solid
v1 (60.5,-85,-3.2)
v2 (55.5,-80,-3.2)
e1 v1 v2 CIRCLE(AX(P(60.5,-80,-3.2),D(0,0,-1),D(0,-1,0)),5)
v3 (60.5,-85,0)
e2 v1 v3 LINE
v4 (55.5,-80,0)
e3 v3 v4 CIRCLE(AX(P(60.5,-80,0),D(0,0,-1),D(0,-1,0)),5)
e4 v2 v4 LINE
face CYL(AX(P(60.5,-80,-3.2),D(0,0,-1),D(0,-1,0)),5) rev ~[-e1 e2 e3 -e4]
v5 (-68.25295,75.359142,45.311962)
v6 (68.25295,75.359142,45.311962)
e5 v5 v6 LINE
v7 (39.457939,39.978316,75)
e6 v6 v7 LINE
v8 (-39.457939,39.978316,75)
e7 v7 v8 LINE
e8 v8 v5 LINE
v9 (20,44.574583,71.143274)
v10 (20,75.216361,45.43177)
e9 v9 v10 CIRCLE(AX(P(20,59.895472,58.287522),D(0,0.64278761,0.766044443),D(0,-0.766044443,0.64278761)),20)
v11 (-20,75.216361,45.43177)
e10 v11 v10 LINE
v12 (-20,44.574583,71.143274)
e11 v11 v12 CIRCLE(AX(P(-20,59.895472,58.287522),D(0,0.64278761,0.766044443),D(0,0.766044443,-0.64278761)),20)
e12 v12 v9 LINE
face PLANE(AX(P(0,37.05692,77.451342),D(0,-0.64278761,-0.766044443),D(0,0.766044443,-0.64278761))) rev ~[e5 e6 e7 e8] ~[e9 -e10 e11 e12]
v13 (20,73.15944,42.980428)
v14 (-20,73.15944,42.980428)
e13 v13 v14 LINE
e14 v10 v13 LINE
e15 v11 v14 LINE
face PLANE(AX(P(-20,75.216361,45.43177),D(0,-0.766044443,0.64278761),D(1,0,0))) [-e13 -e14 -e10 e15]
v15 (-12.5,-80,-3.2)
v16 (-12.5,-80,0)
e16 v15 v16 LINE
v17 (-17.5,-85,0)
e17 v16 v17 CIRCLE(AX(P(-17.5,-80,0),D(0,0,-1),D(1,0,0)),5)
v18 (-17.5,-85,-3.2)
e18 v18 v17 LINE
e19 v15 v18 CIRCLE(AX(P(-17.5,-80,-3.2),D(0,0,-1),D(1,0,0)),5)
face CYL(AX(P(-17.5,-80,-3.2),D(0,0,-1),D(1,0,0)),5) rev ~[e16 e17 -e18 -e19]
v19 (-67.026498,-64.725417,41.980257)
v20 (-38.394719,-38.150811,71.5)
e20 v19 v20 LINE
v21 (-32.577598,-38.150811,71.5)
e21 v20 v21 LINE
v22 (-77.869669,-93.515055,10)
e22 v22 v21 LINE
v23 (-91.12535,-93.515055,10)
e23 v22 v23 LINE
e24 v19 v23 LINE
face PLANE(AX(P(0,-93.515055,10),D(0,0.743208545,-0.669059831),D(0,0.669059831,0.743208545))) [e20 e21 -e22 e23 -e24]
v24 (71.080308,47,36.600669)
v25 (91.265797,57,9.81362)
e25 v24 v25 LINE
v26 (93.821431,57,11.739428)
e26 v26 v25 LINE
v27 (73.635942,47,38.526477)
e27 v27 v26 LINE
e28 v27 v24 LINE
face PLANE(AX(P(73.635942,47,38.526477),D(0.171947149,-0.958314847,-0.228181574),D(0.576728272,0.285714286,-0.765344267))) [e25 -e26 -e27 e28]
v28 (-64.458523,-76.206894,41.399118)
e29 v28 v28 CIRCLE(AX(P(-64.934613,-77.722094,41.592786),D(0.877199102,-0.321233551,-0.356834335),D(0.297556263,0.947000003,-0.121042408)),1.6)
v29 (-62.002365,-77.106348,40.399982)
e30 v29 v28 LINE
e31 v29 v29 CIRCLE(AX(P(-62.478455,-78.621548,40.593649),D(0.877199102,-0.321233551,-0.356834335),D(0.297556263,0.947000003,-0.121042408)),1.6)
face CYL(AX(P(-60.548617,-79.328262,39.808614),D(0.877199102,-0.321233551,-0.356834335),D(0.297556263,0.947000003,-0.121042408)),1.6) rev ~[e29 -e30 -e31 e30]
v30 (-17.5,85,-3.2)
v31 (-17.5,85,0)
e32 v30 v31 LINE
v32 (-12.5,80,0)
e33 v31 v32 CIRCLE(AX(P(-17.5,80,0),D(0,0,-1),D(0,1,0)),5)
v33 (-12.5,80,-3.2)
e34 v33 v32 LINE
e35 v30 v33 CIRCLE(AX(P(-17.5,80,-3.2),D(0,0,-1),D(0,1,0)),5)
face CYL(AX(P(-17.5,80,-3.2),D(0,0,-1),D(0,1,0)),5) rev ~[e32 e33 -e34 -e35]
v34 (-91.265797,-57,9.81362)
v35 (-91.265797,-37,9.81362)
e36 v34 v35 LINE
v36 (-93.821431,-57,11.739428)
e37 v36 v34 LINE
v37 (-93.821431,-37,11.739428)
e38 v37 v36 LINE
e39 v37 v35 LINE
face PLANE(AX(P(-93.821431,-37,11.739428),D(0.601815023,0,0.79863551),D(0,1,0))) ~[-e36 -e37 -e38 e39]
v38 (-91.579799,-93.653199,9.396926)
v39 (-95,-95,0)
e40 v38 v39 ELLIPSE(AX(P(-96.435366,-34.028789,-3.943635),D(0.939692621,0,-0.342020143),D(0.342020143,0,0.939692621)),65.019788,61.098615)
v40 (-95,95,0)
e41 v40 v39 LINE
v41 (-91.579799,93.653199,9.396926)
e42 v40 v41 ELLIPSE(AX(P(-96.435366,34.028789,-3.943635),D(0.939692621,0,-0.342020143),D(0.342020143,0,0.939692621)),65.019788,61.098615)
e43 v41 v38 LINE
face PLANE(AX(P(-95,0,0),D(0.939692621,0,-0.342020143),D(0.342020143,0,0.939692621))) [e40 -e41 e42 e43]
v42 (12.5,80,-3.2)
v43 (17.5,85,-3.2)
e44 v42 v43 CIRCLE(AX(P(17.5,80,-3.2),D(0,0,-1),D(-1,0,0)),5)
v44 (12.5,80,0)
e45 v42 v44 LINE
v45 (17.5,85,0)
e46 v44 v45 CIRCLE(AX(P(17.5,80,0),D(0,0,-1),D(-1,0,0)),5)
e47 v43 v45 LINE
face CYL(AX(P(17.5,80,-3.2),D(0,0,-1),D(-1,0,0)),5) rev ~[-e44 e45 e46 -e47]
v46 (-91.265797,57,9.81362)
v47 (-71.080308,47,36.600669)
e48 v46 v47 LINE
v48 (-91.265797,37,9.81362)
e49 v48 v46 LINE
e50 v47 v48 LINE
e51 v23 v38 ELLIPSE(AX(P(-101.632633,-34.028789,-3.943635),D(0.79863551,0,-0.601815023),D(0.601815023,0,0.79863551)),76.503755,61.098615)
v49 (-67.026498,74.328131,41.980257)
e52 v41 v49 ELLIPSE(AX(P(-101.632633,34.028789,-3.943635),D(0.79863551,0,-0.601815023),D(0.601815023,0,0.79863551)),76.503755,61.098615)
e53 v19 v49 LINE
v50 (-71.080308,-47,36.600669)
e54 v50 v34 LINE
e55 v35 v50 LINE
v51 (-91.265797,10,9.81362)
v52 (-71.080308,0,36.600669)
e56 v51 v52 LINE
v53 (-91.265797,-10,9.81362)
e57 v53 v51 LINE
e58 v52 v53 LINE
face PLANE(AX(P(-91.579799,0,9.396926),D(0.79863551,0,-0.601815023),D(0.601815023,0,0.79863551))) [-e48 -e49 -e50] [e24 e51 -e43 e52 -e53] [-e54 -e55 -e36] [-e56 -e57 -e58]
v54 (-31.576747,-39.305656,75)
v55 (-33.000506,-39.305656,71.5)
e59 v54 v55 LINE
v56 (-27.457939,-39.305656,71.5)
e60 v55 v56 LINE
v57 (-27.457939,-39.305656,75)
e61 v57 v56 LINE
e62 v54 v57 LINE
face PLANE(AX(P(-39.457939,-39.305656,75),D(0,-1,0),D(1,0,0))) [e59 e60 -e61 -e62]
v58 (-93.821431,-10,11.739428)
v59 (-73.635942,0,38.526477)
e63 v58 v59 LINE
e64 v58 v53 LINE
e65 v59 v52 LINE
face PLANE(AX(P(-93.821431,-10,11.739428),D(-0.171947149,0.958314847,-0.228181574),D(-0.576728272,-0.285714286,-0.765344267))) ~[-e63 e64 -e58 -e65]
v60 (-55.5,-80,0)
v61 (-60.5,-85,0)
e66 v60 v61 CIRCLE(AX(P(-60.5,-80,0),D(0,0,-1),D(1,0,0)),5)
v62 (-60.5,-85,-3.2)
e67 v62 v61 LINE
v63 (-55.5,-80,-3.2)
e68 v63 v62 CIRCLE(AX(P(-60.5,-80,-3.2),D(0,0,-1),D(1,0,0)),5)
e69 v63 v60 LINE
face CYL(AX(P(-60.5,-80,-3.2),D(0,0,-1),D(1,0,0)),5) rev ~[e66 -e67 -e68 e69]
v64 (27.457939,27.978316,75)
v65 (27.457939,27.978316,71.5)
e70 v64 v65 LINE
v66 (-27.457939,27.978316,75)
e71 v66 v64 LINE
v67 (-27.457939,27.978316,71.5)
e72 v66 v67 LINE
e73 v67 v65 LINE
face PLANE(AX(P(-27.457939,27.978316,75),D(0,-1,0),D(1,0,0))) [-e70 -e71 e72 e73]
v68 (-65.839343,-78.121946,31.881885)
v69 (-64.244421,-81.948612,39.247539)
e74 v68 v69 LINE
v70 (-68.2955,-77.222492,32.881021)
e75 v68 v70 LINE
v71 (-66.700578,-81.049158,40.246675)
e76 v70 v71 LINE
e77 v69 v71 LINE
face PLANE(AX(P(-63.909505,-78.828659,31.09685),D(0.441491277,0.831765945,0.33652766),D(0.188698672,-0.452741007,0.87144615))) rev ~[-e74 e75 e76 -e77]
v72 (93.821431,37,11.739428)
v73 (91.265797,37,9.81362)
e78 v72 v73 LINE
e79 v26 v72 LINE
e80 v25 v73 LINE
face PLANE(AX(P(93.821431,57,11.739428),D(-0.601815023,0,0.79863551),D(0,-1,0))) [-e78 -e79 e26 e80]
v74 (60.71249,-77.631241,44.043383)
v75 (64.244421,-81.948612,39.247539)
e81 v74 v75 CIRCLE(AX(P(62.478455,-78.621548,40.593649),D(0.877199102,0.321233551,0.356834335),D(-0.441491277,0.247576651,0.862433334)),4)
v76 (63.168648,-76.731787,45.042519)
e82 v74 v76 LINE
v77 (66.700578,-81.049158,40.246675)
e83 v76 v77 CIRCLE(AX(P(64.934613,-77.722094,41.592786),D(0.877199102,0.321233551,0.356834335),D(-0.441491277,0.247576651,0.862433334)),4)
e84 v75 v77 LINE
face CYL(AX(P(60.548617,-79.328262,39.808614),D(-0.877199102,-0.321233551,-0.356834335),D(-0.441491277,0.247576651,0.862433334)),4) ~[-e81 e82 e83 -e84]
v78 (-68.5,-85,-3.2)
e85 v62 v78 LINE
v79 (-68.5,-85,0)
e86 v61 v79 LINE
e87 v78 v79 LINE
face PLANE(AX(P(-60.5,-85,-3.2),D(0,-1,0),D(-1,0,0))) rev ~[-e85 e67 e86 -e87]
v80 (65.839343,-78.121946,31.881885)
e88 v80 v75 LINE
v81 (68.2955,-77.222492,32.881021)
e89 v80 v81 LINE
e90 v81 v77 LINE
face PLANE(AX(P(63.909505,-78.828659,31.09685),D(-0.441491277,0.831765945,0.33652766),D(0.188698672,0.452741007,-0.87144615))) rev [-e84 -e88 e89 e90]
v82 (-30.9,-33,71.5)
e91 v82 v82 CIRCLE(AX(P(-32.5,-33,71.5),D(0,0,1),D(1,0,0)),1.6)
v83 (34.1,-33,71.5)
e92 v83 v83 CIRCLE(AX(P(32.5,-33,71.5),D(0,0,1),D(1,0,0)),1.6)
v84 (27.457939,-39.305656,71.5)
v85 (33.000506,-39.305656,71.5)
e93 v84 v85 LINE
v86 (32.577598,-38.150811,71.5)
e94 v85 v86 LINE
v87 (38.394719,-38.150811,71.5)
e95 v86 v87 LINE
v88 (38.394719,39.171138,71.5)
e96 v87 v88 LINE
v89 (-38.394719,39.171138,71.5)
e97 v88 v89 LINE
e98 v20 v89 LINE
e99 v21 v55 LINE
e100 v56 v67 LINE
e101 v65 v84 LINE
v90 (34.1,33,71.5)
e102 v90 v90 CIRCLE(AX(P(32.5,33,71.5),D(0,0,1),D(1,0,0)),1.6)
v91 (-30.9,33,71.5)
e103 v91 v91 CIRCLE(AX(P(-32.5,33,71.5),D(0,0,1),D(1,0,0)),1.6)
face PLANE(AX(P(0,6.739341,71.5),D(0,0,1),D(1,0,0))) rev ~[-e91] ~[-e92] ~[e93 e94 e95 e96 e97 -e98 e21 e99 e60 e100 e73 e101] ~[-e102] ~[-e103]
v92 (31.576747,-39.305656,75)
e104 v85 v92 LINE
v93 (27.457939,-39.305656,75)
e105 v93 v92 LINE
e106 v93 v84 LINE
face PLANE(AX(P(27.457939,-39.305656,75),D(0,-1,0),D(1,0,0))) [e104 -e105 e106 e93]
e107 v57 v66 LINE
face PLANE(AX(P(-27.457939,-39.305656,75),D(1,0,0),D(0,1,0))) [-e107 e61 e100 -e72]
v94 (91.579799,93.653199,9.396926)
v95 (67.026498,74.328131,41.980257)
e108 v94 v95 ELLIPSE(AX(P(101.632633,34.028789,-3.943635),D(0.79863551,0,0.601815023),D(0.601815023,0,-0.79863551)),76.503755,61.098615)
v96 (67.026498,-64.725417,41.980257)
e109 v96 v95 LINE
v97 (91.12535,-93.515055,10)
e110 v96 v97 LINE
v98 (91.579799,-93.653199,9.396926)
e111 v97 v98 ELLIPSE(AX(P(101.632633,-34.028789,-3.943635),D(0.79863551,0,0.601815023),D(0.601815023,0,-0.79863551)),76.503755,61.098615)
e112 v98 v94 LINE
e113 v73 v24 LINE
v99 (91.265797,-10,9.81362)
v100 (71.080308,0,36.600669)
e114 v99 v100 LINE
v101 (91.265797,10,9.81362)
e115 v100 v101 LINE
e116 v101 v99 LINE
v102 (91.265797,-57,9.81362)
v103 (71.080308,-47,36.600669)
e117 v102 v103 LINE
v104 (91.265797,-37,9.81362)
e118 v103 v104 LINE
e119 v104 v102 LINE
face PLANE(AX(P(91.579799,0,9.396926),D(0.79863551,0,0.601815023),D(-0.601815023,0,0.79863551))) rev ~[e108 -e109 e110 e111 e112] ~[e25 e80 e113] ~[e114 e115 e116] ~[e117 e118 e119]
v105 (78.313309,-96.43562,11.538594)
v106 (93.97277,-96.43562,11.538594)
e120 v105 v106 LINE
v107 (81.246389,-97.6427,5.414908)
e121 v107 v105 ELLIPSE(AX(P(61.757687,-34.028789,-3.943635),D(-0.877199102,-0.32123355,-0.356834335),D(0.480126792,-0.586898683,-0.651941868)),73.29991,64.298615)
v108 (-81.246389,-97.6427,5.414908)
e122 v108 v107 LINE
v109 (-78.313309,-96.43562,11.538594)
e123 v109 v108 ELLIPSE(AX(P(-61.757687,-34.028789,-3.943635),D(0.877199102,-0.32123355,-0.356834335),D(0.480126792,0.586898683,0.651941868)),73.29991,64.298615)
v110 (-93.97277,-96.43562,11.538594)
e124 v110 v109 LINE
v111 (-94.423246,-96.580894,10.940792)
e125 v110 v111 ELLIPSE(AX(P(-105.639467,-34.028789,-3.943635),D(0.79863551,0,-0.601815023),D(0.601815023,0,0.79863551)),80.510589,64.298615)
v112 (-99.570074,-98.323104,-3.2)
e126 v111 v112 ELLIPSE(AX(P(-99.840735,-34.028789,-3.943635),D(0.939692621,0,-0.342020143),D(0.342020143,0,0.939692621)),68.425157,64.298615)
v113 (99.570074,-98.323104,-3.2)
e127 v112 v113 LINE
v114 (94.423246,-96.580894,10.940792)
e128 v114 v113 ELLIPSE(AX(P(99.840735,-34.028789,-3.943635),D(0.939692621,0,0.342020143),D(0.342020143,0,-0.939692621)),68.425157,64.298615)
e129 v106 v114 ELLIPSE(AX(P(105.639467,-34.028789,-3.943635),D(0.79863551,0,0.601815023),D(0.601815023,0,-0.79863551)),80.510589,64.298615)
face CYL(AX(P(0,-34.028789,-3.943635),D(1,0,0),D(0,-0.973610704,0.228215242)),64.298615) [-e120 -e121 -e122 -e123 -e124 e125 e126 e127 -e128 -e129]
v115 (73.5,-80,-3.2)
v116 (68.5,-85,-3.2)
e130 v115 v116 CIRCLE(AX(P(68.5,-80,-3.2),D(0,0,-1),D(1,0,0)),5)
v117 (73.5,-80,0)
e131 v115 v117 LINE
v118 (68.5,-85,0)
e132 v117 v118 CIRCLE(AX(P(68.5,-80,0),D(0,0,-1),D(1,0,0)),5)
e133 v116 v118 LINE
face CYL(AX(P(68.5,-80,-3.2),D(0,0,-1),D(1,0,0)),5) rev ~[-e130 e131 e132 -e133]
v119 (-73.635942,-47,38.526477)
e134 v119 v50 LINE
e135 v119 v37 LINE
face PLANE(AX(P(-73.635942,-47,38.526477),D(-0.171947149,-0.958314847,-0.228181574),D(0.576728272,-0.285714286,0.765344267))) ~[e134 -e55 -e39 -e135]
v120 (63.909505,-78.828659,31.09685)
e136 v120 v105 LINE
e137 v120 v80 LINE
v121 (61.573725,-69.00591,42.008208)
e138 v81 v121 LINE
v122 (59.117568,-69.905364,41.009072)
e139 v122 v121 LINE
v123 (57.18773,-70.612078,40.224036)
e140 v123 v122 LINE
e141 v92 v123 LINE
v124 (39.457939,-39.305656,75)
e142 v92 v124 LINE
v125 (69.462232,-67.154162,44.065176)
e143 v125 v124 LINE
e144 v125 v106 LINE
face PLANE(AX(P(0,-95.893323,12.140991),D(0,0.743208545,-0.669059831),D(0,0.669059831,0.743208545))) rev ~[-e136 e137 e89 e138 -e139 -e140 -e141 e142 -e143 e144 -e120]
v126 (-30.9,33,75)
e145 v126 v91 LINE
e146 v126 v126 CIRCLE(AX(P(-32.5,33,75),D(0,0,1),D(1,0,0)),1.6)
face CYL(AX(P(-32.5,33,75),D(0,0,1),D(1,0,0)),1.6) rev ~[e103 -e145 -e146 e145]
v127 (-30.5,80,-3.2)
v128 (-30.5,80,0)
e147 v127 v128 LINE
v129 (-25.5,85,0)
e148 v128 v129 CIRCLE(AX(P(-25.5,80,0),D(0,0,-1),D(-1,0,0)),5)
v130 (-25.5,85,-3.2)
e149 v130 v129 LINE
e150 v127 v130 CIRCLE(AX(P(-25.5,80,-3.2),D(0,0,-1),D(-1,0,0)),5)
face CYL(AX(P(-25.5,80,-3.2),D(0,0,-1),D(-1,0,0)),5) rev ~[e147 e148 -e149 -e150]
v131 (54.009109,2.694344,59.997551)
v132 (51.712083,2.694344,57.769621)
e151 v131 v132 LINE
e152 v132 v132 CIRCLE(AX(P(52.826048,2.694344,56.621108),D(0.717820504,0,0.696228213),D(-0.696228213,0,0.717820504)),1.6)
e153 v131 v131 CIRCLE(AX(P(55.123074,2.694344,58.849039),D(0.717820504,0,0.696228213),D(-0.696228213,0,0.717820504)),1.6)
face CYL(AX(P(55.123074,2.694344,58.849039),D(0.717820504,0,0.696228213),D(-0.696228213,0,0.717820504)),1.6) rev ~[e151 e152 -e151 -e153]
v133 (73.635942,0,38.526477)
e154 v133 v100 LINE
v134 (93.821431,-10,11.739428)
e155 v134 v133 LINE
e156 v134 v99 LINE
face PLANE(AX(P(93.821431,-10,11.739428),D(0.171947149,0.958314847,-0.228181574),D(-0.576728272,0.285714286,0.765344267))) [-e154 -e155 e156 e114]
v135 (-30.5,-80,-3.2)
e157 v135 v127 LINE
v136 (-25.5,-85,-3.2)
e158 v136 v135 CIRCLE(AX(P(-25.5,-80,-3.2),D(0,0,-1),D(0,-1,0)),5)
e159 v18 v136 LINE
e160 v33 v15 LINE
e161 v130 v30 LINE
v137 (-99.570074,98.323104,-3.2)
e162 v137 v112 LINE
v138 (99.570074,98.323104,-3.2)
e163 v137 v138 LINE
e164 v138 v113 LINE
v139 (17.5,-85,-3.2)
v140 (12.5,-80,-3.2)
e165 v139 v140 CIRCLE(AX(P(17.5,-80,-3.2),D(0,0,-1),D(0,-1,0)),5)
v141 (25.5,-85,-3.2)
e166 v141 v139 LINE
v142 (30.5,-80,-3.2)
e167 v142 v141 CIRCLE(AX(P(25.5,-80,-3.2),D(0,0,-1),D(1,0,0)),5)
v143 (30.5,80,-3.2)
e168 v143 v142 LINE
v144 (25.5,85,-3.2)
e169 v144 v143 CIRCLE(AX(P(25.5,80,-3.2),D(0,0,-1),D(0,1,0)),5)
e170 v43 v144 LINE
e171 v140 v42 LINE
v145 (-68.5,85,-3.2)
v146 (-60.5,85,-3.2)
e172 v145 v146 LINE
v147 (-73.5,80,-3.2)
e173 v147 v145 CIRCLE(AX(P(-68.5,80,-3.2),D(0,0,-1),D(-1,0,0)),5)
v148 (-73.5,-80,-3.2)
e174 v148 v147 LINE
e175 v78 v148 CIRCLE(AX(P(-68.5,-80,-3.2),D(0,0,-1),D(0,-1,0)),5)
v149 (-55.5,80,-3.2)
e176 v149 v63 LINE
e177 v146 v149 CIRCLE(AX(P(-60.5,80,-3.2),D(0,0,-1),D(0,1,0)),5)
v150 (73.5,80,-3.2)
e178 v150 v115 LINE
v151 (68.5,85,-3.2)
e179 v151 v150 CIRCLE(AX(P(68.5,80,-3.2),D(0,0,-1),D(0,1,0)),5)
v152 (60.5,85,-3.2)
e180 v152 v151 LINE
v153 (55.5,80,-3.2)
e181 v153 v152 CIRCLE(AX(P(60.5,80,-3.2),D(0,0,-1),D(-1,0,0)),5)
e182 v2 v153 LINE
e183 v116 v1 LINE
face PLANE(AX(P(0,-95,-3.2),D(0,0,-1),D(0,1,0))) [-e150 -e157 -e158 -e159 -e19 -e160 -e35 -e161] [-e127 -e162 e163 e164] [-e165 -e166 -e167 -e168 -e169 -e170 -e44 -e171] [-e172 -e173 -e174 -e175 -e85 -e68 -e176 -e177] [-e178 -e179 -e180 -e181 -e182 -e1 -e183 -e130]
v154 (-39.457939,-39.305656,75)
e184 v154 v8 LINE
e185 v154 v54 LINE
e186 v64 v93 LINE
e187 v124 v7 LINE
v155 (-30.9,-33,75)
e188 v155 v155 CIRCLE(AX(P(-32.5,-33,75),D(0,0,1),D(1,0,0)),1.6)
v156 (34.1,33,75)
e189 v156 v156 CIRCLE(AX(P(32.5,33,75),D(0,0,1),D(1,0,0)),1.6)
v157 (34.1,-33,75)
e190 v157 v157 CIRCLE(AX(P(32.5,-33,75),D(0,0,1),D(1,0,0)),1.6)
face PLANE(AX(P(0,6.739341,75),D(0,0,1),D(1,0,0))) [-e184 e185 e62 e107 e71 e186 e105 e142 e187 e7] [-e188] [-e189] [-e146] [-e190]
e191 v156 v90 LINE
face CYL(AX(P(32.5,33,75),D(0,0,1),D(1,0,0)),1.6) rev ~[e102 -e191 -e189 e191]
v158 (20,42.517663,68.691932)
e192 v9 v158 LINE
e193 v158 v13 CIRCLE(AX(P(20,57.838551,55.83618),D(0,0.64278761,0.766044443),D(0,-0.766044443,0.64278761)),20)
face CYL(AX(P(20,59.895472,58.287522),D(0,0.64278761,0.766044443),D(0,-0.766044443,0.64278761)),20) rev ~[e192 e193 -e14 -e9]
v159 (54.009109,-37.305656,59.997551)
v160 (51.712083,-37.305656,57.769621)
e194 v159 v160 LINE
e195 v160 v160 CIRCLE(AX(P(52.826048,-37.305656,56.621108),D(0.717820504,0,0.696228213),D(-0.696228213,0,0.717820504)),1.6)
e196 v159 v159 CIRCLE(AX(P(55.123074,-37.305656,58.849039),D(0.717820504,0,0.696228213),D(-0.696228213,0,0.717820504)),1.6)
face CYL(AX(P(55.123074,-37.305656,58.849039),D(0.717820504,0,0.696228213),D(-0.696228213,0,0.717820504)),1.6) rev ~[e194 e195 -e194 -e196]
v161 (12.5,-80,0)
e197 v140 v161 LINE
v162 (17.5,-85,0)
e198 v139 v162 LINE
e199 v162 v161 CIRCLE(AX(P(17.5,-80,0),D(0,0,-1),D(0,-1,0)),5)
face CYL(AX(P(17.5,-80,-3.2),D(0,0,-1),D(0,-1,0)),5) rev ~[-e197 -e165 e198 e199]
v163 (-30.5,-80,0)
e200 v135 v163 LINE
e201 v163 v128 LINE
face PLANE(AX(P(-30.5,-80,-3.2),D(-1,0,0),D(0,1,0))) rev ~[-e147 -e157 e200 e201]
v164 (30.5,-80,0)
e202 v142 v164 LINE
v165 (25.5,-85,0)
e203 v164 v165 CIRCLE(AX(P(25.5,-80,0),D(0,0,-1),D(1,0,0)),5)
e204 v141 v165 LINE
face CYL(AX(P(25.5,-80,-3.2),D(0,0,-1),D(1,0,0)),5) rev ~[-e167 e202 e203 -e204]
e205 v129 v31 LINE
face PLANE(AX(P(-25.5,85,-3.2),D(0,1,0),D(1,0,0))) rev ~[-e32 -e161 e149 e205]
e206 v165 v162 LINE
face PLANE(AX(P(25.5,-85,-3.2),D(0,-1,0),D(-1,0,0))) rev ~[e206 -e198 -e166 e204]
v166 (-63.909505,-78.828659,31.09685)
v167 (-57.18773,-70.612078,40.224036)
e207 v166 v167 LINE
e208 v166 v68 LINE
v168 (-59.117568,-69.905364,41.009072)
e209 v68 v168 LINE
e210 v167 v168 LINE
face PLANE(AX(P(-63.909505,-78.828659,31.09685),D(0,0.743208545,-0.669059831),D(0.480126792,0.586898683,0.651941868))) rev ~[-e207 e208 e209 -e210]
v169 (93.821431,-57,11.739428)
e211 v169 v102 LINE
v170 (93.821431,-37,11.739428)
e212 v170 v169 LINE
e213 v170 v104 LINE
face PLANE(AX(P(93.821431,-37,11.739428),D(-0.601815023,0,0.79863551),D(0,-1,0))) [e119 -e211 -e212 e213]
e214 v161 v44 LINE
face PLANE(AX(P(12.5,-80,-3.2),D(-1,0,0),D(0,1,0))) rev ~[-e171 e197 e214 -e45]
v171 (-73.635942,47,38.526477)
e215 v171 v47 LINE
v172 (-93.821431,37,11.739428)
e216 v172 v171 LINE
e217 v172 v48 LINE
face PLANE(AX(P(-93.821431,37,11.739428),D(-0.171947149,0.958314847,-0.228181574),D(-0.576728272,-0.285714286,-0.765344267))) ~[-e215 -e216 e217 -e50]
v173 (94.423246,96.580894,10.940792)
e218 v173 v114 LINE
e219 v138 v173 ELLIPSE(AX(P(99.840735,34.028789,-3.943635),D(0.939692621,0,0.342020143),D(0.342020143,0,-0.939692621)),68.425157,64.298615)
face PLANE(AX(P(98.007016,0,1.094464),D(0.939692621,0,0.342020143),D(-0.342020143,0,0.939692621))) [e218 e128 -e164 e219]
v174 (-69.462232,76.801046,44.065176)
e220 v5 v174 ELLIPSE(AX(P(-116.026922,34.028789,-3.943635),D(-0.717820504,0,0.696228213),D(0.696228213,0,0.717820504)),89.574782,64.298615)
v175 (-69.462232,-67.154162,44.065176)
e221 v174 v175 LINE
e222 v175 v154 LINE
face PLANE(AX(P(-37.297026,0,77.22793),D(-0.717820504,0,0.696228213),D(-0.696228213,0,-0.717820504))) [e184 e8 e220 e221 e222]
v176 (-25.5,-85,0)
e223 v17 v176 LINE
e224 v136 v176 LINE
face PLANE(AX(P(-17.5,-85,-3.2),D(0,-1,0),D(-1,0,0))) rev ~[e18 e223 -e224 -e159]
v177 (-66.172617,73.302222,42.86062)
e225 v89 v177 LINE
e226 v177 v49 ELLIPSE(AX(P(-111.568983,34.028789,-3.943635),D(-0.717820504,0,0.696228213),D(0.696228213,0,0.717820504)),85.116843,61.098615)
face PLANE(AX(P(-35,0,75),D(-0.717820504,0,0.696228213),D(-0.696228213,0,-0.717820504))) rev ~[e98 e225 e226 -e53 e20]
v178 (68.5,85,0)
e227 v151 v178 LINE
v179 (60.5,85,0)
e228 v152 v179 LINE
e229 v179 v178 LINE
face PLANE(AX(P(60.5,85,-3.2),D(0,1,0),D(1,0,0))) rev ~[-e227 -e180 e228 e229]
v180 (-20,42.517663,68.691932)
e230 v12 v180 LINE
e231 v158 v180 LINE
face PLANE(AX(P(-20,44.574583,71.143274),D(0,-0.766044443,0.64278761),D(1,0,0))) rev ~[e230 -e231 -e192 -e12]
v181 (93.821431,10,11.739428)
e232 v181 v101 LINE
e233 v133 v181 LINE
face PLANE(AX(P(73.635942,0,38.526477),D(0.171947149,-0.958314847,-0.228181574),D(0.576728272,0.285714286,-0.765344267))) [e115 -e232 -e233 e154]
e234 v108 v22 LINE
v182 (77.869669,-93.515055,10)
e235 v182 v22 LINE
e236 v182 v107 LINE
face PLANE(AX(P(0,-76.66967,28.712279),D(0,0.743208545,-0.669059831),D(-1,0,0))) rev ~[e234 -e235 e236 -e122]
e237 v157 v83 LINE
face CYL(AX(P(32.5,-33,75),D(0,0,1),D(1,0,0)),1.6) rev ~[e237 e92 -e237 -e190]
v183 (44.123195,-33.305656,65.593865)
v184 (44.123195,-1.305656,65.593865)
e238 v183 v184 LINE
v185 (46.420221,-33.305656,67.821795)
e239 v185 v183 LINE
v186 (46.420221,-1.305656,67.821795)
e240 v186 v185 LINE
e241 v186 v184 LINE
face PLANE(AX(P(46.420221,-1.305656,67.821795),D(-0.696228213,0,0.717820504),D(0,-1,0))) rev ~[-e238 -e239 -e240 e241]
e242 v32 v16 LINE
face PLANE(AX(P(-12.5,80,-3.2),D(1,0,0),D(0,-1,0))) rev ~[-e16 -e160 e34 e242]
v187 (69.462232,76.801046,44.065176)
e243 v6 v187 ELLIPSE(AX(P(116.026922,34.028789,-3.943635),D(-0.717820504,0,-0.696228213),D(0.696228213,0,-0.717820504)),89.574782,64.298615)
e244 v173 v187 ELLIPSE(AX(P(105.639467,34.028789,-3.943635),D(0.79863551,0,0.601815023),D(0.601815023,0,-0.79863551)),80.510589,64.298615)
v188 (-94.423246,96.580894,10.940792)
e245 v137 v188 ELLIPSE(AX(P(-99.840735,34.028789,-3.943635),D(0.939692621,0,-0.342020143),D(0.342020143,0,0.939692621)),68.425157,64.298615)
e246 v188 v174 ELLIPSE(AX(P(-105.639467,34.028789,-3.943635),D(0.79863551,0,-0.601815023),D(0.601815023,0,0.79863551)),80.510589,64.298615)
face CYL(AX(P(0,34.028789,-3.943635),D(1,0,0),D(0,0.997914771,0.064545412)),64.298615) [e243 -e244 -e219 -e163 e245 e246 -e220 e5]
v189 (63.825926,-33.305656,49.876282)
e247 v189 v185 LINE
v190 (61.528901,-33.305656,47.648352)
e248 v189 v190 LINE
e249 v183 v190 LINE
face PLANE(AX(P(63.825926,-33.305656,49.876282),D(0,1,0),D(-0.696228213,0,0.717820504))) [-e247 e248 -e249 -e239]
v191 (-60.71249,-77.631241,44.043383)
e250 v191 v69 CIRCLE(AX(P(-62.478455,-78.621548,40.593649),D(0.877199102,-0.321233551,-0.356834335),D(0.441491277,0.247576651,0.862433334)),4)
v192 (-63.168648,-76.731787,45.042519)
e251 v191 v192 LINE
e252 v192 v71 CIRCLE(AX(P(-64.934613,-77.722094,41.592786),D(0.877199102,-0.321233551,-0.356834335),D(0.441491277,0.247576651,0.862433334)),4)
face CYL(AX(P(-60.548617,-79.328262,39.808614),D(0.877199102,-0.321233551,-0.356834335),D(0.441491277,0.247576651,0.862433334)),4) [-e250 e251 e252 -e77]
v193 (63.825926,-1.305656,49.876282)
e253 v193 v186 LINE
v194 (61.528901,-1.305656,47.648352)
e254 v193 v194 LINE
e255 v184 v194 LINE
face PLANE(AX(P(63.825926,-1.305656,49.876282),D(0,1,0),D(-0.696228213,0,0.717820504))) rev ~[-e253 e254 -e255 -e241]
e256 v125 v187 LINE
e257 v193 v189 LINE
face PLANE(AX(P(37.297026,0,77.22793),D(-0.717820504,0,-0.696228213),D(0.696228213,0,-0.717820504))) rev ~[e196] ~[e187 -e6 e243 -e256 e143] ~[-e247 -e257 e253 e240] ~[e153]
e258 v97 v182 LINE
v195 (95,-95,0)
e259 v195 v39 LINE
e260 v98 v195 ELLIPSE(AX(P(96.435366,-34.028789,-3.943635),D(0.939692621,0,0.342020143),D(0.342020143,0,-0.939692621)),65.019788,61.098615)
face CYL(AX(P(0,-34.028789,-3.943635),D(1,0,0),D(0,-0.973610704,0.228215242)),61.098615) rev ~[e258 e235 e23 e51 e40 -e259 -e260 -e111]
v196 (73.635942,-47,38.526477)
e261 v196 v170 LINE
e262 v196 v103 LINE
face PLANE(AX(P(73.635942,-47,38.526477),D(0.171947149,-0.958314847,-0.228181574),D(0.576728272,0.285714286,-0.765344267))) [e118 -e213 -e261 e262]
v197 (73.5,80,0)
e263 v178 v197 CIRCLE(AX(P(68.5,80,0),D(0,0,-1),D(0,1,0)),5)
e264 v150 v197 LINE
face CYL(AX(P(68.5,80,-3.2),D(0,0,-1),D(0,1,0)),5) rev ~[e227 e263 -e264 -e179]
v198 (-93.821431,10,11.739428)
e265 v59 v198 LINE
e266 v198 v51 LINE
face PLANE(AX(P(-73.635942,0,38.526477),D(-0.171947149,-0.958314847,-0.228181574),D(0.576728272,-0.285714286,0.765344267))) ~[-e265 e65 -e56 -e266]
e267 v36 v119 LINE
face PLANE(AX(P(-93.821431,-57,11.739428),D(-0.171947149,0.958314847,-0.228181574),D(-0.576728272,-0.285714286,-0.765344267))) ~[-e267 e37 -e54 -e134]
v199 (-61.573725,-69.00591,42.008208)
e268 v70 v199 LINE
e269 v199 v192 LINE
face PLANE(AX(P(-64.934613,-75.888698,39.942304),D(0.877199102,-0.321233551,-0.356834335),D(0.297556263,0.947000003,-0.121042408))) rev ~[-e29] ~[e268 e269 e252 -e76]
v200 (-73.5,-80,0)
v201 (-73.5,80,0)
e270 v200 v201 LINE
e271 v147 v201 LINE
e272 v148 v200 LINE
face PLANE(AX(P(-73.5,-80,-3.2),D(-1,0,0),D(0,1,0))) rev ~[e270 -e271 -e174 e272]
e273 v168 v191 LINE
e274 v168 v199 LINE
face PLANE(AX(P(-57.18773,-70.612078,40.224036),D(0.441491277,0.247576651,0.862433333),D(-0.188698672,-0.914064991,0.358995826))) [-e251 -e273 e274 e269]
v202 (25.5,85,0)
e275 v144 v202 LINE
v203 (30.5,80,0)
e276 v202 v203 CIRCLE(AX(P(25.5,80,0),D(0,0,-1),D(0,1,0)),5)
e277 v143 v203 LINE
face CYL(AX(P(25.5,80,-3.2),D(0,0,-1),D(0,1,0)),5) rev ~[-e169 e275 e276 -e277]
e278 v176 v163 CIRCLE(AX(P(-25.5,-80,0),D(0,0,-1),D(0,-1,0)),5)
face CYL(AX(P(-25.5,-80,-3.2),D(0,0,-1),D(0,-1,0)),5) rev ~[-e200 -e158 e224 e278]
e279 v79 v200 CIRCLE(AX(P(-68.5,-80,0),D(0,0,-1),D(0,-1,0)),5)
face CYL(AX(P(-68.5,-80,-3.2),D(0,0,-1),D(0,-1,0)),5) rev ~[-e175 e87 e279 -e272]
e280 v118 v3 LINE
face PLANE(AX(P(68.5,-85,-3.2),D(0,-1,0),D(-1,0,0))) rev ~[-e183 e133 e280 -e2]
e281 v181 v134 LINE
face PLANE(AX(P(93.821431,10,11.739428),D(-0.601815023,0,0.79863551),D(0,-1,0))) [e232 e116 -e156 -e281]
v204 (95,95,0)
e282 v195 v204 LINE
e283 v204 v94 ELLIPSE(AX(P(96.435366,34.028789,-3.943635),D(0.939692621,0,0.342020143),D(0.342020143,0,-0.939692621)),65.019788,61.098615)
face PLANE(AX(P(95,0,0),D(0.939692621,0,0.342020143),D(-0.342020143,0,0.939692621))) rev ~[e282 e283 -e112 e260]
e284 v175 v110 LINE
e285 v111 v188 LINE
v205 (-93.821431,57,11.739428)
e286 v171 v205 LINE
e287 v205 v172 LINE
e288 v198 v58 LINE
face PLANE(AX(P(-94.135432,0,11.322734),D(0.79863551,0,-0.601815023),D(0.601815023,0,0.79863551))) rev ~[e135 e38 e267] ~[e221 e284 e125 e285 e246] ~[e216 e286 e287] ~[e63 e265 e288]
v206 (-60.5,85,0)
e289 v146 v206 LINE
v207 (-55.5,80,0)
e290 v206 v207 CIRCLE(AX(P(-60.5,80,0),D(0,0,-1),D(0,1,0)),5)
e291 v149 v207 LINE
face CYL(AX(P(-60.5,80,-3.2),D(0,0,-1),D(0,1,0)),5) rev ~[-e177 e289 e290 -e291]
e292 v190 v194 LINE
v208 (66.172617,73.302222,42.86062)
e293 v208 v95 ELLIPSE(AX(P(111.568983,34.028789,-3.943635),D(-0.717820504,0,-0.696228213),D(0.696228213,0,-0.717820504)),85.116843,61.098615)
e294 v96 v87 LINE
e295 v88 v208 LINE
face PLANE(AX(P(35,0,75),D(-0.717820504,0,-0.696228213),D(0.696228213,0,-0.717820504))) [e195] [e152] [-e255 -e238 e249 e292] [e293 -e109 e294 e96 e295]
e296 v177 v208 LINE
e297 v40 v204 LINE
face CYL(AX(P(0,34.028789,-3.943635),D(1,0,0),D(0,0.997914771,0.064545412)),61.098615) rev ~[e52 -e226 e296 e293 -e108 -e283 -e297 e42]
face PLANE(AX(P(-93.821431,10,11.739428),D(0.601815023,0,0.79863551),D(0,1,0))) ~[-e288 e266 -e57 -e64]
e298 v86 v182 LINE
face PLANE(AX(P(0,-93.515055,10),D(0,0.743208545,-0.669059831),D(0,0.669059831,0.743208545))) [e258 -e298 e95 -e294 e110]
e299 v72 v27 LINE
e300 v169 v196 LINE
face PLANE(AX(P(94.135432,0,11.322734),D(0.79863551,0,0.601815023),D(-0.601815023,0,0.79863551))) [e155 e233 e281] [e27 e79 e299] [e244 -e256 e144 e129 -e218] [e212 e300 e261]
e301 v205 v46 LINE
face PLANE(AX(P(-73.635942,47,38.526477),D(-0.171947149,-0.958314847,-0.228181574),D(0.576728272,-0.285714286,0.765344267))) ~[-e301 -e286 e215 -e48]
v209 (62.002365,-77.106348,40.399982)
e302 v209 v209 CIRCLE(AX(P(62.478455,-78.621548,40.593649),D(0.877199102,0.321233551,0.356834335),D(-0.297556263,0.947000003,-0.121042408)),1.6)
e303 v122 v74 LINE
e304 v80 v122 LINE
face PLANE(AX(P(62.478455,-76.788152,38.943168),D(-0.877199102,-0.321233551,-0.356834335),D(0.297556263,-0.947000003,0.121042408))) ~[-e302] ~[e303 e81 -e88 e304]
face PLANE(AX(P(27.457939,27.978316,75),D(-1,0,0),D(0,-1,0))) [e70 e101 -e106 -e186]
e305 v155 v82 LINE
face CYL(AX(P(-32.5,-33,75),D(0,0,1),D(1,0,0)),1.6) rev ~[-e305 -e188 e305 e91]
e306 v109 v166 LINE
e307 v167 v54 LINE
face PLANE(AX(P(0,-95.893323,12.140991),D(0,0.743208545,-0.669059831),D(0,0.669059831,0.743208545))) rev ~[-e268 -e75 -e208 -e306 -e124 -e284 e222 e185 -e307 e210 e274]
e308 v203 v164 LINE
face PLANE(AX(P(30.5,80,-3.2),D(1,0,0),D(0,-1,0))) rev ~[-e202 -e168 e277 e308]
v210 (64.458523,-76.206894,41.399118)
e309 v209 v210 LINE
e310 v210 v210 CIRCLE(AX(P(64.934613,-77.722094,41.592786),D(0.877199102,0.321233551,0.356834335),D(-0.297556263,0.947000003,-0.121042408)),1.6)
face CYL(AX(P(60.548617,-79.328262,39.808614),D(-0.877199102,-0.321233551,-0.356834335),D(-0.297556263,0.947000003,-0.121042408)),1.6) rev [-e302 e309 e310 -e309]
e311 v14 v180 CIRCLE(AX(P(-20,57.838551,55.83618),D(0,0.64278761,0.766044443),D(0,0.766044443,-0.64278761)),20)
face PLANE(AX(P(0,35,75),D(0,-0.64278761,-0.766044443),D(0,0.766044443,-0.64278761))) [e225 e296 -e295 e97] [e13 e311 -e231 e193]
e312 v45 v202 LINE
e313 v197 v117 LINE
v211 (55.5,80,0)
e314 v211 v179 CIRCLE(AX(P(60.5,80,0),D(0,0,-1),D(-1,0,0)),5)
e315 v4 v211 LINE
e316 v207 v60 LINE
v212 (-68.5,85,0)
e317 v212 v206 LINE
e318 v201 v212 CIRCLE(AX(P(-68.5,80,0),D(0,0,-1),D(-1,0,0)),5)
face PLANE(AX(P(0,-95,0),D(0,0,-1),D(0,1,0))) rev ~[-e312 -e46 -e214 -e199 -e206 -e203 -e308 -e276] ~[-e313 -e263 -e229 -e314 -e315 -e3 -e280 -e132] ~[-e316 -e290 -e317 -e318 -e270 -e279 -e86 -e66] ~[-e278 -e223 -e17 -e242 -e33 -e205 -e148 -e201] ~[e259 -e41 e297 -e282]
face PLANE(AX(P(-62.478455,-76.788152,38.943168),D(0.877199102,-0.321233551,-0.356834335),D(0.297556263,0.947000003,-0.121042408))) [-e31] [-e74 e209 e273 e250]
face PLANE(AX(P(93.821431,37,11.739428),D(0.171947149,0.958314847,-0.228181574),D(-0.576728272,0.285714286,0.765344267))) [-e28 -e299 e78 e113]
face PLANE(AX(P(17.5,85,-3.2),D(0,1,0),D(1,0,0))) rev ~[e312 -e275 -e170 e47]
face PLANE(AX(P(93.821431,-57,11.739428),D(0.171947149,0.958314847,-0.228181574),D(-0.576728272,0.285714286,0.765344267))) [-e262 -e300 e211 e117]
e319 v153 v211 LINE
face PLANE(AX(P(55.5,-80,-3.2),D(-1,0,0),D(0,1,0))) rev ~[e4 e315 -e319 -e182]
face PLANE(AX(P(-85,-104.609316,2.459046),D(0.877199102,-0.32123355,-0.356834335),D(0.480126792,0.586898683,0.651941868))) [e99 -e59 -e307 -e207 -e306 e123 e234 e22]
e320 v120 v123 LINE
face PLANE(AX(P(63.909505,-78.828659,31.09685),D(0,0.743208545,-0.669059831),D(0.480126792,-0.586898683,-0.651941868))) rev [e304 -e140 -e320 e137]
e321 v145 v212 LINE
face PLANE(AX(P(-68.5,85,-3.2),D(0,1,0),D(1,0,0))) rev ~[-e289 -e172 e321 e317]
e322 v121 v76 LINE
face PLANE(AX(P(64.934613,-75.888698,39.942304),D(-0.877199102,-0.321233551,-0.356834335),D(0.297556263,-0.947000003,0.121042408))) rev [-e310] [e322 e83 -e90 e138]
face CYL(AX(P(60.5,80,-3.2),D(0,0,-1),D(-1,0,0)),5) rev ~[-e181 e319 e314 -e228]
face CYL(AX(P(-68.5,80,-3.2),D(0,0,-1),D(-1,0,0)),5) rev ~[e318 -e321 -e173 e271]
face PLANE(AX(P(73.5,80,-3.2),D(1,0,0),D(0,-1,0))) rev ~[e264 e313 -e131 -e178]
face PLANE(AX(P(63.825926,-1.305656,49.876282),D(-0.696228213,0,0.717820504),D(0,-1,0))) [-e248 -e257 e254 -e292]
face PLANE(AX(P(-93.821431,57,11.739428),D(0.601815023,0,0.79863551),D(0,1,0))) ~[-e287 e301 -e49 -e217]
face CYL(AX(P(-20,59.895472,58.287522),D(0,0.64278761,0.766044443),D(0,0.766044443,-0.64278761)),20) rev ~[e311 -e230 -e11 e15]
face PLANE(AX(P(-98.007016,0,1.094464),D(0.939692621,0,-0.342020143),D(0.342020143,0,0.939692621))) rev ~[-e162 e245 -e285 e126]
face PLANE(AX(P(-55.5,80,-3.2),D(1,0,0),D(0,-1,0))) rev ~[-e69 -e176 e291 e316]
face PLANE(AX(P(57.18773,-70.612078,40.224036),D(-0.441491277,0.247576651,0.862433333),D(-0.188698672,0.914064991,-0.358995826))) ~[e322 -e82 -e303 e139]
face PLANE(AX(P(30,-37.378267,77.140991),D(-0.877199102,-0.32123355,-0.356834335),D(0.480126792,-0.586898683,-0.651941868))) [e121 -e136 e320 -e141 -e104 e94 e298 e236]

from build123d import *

# Parameters (mm, degrees)
PAD_DEPTH       = 100
POCKET_DEPTH    = 100
THICKNESS_T     = 3.2
POCKET001_DEPTH = 3.2
SKETCH005_R     = 1.6
SKETCH005_W     = 25
SKETCH005_H     = 32
POCKET002_DEPTH = 5
POCKET003_DEPTH = 5
PAD001_DEPTH    = 3.5
SKETCH008_R     = 1.6
POCKET004_DEPTH = 5
POCKET005_DEPTH = 5
POCKET006_DEPTH = 5
SKETCH011_R     = 1.6
PAD002_DEPTH    = 5
POCKET007_DEPTH = 2.2


with BuildPart() as part:
    # Sketch → Pad (new body, symmetric)
    with BuildSketch(Plane.YZ):
        with BuildLine():
            Line((-95, 0), (95, 0))
            ThreePointArc((95, 0), (88.5403047419, 23.6522969832), (73.3022221559, 42.8606195157))
            Line((35, 75), (73.3022221559, 42.8606195157))
            Line((-35, 75), (35, 75))
            Line((-93.5150551793, 10), (-35, 75))
            ThreePointArc((-93.5150551793, 10), (-94.4647133512, 5.0307659423), (-95, 0))
        make_face()
    extrude(amount=PAD_DEPTH, both=True)

    # Sketch001 → Pocket (cut, symmetric)
    with BuildSketch(Plane.XZ):
        with BuildLine():
            Line((-110, 0), (-110, 75))
            ThreePointArc((110, 75), (0, 106.1145618), (-110, 75))
            Line((110, 75), (110, 0))
            Line((110, 0), (95, 0))
            Line((95, 0), (91.5797985667, 9.3969262079))
            Line((91.5797985667, 9.3969262079), (67.0264978038, 41.980256839))
            Line((35, 75), (67.0264978038, 41.980256839))
            Line((-35, 75), (35, 75))
            Line((-35, 75), (-67.0264978038, 41.980256839))
            Line((-91.5797985667, 9.3969262079), (-67.0264978038, 41.980256839))
            Line((-95, 0), (-91.5797985667, 9.3969262079))
            Line((-110, 0), (-95, 0))
        make_face()
    extrude(amount=POCKET_DEPTH, both=True, mode=Mode.SUBTRACT)

    # Thickness
    thickness_openings = [part.faces().sort_by_distance(p)[0] for p in [
        (0, 0, 75),
    ]]
    offset(amount=THICKNESS_T, openings=thickness_openings, kind=Kind.INTERSECTION)

    # Sketch003 (on Face19 of Thickness) → Pocket001 (cut)
    with BuildSketch(Plane(origin=(0, -59.0046541218, 53.1178552581), x_dir=(1, 0, 0), z_dir=(0, -0.7432085454, 0.6690598314))):
        Polygon((-85, -68.162306919), (-30, 32.3235468044), (30, 32.3235468044), (85, -68.162306919), align=None)
    extrude(amount=-POCKET001_DEPTH, mode=Mode.SUBTRACT)

    # Sketch005 (on Face21 of Pocket001) → Pocket002 (cut)
    with BuildSketch(Plane(origin=(57.8138617322, 0, 56.074800666), x_dir=(-0.6962282131, 0, 0.7178205035), z_dir=(0.7178205035, 0, 0.6962282131))):
        with Locations((3.8648074159, 37.3056555523)):
            Circle(SKETCH005_R)
        with Locations((3.8648074159, -2.6943444477)):
            Circle(SKETCH005_R)
        with Locations((3.8648074159, 17.3056555523)):
            Rectangle(SKETCH005_W, SKETCH005_H)
    extrude(amount=-POCKET002_DEPTH, mode=Mode.SUBTRACT)

    # Sketch006 (on Face26 of Pocket002) → Pocket003 (cut)
    with BuildSketch(Plane(origin=(0, 53.4483679798, 63.6972845582), x_dir=(1, 0, 0), z_dir=(0, 0.6427876097, 0.7660444431))):
        with BuildLine():
            Line((-20, 28.416096279), (20, 28.416096279))
            ThreePointArc((20, -11.583903721), (40, 8.416096279), (20, 28.416096279))
            Line((-20, -11.583903721), (20, -11.583903721))
            ThreePointArc((-20, 28.416096279), (-40, 8.416096279), (-20, -11.583903721))
        make_face()
    extrude(amount=-POCKET003_DEPTH, mode=Mode.SUBTRACT)

    # Sketch007 (on Face13 of Pocket003) → Pad001 (join)
    with BuildSketch(Plane.XY.offset(75)):
        Polygon((-27.4579389755, -39.3056555523), (-27.4579389755, 27.978316246), (27.4579389755, 27.978316246), (27.4579389755, -39.3056555523), (39.4579389755, -39.3056555523), (39.4579389755, 39.978316246), (-39.4579389755, 39.978316246), (-39.4579389755, -39.3056555523), align=None)
    extrude(amount=-PAD001_DEPTH)

    # Sketch008 (on Face41 of Pad001) → Pocket004 (cut)
    with BuildSketch(Plane.XY.offset(75)):
        with Locations((-32.5, 33)):
            Circle(SKETCH008_R)
        with Locations((32.5, 33)):
            Circle(SKETCH008_R)
        with Locations((-32.5, -33)):
            Circle(SKETCH008_R)
        with Locations((32.5, -33)):
            Circle(SKETCH008_R)
    extrude(amount=-POCKET004_DEPTH, mode=Mode.SUBTRACT)

    # Sketch009 (on Face38 of Pocket004) → Pocket005 (cut)
    with BuildSketch(Plane(origin=(65.4833922887, 0, 49.3452754736), x_dir=(0, 1, 0), z_dir=(0.79863551, 0, 0.6018150232))):
        Polygon((-57, -47.0876228441), (-47, -13.5466031816), (-37, -47.0876228441), align=None)
        Polygon((-10, -47.0876228441), (0, -13.5466031816), (10, -47.0876228441), align=None)
        Polygon((37, -47.0876228441), (47, -13.5466031816), (57, -47.0876228441), align=None)
    pocket005 = extrude(amount=-POCKET005_DEPTH, mode=Mode.SUBTRACT)

    # Mirrored: Pocket005 across YZ
    add(pocket005.mirror(Plane.YZ), mode=Mode.SUBTRACT)

    # Sketch010 (on Face55 of Mirrored) → Pocket006 (cut)
    with BuildSketch(Plane(origin=(0, 0, -3.2), x_dir=(1, 0, 0), z_dir=(0, 0, -1))):
        with BuildLine():
            Line((-68.5, -85), (-60.5, -85))
            ThreePointArc((-60.5, -85), (-56.9644660941, -83.5355339059), (-55.5, -80))
            Line((-55.5, -80), (-55.5, 80))
            ThreePointArc((-55.5, 80), (-56.9644660941, 83.5355339059), (-60.5, 85))
            Line((-60.5, 85), (-68.5, 85))
            ThreePointArc((-68.5, 85), (-72.0355339059, 83.5355339059), (-73.5, 80))
            Line((-73.5, 80), (-73.5, -80))
            ThreePointArc((-73.5, -80), (-72.0355339059, -83.5355339059), (-68.5, -85))
        make_face()
        with BuildLine():
            Line((-25.5, -85), (-17.5, -85))
            ThreePointArc((-17.5, -85), (-13.9644660941, -83.5355339059), (-12.5, -80))
            Line((-12.5, -80), (-12.5, 80))
            ThreePointArc((-12.5, 80), (-13.9644660941, 83.5355339059), (-17.5, 85))
            Line((-17.5, 85), (-25.5, 85))
            ThreePointArc((-25.5, 85), (-29.0355339059, 83.5355339059), (-30.5, 80))
            Line((-30.5, 80), (-30.5, -80))
            ThreePointArc((-30.5, -80), (-29.0355339059, -83.5355339059), (-25.5, -85))
        make_face()
        with BuildLine():
            Line((17.5, -85), (25.5, -85))
            ThreePointArc((25.5, -85), (29.0355339059, -83.5355339059), (30.5, -80))
            Line((30.5, -80), (30.5, 80))
            ThreePointArc((30.5, 80), (29.0355339059, 83.5355339059), (25.5, 85))
            Line((25.5, 85), (17.5, 85))
            ThreePointArc((17.5, 85), (13.9644660941, 83.5355339059), (12.5, 80))
            Line((12.5, 80), (12.5, -80))
            ThreePointArc((12.5, -80), (13.9644660941, -83.5355339059), (17.5, -85))
        make_face()
        with BuildLine():
            Line((60.5, -85), (68.5, -85))
            ThreePointArc((68.5, -85), (72.0355339059, -83.5355339059), (73.5, -80))
            Line((73.5, -80), (73.5, 80))
            ThreePointArc((73.5, 80), (72.0355339059, 83.5355339059), (68.5, 85))
            Line((68.5, 85), (60.5, 85))
            ThreePointArc((60.5, 85), (56.9644660941, 83.5355339059), (55.5, 80))
            Line((55.5, 80), (55.5, -80))
            ThreePointArc((55.5, -80), (56.9644660941, -83.5355339059), (60.5, -85))
        make_face()
    extrude(amount=-POCKET006_DEPTH, mode=Mode.SUBTRACT)

    # Sketch011 (on Face64 of Pocket006) → Pad002 (join)
    with BuildSketch(Plane(origin=(-36.6979523749, 13.4389256858, 14.9282978013), x_dir=(0.2975562628, 0.9470000032, -0.1210424075), z_dir=(0.8771991015, -0.3212335505, -0.3568343346))):
        with BuildLine():
            Line((-97.4314518047, 4.7233611651), (-88.7550193505, 15.7106046714))
            Line((-88.7550193505, 15.7106046714), (-96.9132845396, 17.9202899666))
            ThreePointArc((-96.9132845396, 17.9202899666), (-101.098227275, 16.5383837063), (-101.4722817586, 12.1470861926))
            Line((-97.4314518047, 4.7233611651), (-101.4722817586, 12.1470861926))
        make_face()
        with Locations((-97.9590148447, 14.0594030051)):
            Circle(SKETCH011_R, mode=Mode.SUBTRACT)
    pad002 = extrude(amount=-PAD002_DEPTH)

    # Sketch011 (on Face64 of Pocket006) → Pocket007 (cut)
    with BuildSketch(Plane(origin=(-36.6979523749, 13.4389256858, 14.9282978013), x_dir=(0.2975562628, 0.9470000032, -0.1210424075), z_dir=(0.8771991015, -0.3212335505, -0.3568343346))):
        with BuildLine():
            Line((-97.4314518047, 4.7233611651), (-88.7550193505, 15.7106046714))
            Line((-88.7550193505, 15.7106046714), (-96.9132845396, 17.9202899666))
            ThreePointArc((-96.9132845396, 17.9202899666), (-101.098227275, 16.5383837063), (-101.4722817586, 12.1470861926))
            Line((-97.4314518047, 4.7233611651), (-101.4722817586, 12.1470861926))
        make_face()
        with Locations((-97.9590148447, 14.0594030051)):
            Circle(SKETCH011_R, mode=Mode.SUBTRACT)
    pocket007 = extrude(amount=-POCKET007_DEPTH, mode=Mode.SUBTRACT)

    # Mirrored001: Pad002 across YZ
    add(pad002.mirror(Plane.YZ))

    # Mirrored002: Pocket007 across YZ
    add(pocket007.mirror(Plane.YZ), mode=Mode.SUBTRACT)


solid = part.part
